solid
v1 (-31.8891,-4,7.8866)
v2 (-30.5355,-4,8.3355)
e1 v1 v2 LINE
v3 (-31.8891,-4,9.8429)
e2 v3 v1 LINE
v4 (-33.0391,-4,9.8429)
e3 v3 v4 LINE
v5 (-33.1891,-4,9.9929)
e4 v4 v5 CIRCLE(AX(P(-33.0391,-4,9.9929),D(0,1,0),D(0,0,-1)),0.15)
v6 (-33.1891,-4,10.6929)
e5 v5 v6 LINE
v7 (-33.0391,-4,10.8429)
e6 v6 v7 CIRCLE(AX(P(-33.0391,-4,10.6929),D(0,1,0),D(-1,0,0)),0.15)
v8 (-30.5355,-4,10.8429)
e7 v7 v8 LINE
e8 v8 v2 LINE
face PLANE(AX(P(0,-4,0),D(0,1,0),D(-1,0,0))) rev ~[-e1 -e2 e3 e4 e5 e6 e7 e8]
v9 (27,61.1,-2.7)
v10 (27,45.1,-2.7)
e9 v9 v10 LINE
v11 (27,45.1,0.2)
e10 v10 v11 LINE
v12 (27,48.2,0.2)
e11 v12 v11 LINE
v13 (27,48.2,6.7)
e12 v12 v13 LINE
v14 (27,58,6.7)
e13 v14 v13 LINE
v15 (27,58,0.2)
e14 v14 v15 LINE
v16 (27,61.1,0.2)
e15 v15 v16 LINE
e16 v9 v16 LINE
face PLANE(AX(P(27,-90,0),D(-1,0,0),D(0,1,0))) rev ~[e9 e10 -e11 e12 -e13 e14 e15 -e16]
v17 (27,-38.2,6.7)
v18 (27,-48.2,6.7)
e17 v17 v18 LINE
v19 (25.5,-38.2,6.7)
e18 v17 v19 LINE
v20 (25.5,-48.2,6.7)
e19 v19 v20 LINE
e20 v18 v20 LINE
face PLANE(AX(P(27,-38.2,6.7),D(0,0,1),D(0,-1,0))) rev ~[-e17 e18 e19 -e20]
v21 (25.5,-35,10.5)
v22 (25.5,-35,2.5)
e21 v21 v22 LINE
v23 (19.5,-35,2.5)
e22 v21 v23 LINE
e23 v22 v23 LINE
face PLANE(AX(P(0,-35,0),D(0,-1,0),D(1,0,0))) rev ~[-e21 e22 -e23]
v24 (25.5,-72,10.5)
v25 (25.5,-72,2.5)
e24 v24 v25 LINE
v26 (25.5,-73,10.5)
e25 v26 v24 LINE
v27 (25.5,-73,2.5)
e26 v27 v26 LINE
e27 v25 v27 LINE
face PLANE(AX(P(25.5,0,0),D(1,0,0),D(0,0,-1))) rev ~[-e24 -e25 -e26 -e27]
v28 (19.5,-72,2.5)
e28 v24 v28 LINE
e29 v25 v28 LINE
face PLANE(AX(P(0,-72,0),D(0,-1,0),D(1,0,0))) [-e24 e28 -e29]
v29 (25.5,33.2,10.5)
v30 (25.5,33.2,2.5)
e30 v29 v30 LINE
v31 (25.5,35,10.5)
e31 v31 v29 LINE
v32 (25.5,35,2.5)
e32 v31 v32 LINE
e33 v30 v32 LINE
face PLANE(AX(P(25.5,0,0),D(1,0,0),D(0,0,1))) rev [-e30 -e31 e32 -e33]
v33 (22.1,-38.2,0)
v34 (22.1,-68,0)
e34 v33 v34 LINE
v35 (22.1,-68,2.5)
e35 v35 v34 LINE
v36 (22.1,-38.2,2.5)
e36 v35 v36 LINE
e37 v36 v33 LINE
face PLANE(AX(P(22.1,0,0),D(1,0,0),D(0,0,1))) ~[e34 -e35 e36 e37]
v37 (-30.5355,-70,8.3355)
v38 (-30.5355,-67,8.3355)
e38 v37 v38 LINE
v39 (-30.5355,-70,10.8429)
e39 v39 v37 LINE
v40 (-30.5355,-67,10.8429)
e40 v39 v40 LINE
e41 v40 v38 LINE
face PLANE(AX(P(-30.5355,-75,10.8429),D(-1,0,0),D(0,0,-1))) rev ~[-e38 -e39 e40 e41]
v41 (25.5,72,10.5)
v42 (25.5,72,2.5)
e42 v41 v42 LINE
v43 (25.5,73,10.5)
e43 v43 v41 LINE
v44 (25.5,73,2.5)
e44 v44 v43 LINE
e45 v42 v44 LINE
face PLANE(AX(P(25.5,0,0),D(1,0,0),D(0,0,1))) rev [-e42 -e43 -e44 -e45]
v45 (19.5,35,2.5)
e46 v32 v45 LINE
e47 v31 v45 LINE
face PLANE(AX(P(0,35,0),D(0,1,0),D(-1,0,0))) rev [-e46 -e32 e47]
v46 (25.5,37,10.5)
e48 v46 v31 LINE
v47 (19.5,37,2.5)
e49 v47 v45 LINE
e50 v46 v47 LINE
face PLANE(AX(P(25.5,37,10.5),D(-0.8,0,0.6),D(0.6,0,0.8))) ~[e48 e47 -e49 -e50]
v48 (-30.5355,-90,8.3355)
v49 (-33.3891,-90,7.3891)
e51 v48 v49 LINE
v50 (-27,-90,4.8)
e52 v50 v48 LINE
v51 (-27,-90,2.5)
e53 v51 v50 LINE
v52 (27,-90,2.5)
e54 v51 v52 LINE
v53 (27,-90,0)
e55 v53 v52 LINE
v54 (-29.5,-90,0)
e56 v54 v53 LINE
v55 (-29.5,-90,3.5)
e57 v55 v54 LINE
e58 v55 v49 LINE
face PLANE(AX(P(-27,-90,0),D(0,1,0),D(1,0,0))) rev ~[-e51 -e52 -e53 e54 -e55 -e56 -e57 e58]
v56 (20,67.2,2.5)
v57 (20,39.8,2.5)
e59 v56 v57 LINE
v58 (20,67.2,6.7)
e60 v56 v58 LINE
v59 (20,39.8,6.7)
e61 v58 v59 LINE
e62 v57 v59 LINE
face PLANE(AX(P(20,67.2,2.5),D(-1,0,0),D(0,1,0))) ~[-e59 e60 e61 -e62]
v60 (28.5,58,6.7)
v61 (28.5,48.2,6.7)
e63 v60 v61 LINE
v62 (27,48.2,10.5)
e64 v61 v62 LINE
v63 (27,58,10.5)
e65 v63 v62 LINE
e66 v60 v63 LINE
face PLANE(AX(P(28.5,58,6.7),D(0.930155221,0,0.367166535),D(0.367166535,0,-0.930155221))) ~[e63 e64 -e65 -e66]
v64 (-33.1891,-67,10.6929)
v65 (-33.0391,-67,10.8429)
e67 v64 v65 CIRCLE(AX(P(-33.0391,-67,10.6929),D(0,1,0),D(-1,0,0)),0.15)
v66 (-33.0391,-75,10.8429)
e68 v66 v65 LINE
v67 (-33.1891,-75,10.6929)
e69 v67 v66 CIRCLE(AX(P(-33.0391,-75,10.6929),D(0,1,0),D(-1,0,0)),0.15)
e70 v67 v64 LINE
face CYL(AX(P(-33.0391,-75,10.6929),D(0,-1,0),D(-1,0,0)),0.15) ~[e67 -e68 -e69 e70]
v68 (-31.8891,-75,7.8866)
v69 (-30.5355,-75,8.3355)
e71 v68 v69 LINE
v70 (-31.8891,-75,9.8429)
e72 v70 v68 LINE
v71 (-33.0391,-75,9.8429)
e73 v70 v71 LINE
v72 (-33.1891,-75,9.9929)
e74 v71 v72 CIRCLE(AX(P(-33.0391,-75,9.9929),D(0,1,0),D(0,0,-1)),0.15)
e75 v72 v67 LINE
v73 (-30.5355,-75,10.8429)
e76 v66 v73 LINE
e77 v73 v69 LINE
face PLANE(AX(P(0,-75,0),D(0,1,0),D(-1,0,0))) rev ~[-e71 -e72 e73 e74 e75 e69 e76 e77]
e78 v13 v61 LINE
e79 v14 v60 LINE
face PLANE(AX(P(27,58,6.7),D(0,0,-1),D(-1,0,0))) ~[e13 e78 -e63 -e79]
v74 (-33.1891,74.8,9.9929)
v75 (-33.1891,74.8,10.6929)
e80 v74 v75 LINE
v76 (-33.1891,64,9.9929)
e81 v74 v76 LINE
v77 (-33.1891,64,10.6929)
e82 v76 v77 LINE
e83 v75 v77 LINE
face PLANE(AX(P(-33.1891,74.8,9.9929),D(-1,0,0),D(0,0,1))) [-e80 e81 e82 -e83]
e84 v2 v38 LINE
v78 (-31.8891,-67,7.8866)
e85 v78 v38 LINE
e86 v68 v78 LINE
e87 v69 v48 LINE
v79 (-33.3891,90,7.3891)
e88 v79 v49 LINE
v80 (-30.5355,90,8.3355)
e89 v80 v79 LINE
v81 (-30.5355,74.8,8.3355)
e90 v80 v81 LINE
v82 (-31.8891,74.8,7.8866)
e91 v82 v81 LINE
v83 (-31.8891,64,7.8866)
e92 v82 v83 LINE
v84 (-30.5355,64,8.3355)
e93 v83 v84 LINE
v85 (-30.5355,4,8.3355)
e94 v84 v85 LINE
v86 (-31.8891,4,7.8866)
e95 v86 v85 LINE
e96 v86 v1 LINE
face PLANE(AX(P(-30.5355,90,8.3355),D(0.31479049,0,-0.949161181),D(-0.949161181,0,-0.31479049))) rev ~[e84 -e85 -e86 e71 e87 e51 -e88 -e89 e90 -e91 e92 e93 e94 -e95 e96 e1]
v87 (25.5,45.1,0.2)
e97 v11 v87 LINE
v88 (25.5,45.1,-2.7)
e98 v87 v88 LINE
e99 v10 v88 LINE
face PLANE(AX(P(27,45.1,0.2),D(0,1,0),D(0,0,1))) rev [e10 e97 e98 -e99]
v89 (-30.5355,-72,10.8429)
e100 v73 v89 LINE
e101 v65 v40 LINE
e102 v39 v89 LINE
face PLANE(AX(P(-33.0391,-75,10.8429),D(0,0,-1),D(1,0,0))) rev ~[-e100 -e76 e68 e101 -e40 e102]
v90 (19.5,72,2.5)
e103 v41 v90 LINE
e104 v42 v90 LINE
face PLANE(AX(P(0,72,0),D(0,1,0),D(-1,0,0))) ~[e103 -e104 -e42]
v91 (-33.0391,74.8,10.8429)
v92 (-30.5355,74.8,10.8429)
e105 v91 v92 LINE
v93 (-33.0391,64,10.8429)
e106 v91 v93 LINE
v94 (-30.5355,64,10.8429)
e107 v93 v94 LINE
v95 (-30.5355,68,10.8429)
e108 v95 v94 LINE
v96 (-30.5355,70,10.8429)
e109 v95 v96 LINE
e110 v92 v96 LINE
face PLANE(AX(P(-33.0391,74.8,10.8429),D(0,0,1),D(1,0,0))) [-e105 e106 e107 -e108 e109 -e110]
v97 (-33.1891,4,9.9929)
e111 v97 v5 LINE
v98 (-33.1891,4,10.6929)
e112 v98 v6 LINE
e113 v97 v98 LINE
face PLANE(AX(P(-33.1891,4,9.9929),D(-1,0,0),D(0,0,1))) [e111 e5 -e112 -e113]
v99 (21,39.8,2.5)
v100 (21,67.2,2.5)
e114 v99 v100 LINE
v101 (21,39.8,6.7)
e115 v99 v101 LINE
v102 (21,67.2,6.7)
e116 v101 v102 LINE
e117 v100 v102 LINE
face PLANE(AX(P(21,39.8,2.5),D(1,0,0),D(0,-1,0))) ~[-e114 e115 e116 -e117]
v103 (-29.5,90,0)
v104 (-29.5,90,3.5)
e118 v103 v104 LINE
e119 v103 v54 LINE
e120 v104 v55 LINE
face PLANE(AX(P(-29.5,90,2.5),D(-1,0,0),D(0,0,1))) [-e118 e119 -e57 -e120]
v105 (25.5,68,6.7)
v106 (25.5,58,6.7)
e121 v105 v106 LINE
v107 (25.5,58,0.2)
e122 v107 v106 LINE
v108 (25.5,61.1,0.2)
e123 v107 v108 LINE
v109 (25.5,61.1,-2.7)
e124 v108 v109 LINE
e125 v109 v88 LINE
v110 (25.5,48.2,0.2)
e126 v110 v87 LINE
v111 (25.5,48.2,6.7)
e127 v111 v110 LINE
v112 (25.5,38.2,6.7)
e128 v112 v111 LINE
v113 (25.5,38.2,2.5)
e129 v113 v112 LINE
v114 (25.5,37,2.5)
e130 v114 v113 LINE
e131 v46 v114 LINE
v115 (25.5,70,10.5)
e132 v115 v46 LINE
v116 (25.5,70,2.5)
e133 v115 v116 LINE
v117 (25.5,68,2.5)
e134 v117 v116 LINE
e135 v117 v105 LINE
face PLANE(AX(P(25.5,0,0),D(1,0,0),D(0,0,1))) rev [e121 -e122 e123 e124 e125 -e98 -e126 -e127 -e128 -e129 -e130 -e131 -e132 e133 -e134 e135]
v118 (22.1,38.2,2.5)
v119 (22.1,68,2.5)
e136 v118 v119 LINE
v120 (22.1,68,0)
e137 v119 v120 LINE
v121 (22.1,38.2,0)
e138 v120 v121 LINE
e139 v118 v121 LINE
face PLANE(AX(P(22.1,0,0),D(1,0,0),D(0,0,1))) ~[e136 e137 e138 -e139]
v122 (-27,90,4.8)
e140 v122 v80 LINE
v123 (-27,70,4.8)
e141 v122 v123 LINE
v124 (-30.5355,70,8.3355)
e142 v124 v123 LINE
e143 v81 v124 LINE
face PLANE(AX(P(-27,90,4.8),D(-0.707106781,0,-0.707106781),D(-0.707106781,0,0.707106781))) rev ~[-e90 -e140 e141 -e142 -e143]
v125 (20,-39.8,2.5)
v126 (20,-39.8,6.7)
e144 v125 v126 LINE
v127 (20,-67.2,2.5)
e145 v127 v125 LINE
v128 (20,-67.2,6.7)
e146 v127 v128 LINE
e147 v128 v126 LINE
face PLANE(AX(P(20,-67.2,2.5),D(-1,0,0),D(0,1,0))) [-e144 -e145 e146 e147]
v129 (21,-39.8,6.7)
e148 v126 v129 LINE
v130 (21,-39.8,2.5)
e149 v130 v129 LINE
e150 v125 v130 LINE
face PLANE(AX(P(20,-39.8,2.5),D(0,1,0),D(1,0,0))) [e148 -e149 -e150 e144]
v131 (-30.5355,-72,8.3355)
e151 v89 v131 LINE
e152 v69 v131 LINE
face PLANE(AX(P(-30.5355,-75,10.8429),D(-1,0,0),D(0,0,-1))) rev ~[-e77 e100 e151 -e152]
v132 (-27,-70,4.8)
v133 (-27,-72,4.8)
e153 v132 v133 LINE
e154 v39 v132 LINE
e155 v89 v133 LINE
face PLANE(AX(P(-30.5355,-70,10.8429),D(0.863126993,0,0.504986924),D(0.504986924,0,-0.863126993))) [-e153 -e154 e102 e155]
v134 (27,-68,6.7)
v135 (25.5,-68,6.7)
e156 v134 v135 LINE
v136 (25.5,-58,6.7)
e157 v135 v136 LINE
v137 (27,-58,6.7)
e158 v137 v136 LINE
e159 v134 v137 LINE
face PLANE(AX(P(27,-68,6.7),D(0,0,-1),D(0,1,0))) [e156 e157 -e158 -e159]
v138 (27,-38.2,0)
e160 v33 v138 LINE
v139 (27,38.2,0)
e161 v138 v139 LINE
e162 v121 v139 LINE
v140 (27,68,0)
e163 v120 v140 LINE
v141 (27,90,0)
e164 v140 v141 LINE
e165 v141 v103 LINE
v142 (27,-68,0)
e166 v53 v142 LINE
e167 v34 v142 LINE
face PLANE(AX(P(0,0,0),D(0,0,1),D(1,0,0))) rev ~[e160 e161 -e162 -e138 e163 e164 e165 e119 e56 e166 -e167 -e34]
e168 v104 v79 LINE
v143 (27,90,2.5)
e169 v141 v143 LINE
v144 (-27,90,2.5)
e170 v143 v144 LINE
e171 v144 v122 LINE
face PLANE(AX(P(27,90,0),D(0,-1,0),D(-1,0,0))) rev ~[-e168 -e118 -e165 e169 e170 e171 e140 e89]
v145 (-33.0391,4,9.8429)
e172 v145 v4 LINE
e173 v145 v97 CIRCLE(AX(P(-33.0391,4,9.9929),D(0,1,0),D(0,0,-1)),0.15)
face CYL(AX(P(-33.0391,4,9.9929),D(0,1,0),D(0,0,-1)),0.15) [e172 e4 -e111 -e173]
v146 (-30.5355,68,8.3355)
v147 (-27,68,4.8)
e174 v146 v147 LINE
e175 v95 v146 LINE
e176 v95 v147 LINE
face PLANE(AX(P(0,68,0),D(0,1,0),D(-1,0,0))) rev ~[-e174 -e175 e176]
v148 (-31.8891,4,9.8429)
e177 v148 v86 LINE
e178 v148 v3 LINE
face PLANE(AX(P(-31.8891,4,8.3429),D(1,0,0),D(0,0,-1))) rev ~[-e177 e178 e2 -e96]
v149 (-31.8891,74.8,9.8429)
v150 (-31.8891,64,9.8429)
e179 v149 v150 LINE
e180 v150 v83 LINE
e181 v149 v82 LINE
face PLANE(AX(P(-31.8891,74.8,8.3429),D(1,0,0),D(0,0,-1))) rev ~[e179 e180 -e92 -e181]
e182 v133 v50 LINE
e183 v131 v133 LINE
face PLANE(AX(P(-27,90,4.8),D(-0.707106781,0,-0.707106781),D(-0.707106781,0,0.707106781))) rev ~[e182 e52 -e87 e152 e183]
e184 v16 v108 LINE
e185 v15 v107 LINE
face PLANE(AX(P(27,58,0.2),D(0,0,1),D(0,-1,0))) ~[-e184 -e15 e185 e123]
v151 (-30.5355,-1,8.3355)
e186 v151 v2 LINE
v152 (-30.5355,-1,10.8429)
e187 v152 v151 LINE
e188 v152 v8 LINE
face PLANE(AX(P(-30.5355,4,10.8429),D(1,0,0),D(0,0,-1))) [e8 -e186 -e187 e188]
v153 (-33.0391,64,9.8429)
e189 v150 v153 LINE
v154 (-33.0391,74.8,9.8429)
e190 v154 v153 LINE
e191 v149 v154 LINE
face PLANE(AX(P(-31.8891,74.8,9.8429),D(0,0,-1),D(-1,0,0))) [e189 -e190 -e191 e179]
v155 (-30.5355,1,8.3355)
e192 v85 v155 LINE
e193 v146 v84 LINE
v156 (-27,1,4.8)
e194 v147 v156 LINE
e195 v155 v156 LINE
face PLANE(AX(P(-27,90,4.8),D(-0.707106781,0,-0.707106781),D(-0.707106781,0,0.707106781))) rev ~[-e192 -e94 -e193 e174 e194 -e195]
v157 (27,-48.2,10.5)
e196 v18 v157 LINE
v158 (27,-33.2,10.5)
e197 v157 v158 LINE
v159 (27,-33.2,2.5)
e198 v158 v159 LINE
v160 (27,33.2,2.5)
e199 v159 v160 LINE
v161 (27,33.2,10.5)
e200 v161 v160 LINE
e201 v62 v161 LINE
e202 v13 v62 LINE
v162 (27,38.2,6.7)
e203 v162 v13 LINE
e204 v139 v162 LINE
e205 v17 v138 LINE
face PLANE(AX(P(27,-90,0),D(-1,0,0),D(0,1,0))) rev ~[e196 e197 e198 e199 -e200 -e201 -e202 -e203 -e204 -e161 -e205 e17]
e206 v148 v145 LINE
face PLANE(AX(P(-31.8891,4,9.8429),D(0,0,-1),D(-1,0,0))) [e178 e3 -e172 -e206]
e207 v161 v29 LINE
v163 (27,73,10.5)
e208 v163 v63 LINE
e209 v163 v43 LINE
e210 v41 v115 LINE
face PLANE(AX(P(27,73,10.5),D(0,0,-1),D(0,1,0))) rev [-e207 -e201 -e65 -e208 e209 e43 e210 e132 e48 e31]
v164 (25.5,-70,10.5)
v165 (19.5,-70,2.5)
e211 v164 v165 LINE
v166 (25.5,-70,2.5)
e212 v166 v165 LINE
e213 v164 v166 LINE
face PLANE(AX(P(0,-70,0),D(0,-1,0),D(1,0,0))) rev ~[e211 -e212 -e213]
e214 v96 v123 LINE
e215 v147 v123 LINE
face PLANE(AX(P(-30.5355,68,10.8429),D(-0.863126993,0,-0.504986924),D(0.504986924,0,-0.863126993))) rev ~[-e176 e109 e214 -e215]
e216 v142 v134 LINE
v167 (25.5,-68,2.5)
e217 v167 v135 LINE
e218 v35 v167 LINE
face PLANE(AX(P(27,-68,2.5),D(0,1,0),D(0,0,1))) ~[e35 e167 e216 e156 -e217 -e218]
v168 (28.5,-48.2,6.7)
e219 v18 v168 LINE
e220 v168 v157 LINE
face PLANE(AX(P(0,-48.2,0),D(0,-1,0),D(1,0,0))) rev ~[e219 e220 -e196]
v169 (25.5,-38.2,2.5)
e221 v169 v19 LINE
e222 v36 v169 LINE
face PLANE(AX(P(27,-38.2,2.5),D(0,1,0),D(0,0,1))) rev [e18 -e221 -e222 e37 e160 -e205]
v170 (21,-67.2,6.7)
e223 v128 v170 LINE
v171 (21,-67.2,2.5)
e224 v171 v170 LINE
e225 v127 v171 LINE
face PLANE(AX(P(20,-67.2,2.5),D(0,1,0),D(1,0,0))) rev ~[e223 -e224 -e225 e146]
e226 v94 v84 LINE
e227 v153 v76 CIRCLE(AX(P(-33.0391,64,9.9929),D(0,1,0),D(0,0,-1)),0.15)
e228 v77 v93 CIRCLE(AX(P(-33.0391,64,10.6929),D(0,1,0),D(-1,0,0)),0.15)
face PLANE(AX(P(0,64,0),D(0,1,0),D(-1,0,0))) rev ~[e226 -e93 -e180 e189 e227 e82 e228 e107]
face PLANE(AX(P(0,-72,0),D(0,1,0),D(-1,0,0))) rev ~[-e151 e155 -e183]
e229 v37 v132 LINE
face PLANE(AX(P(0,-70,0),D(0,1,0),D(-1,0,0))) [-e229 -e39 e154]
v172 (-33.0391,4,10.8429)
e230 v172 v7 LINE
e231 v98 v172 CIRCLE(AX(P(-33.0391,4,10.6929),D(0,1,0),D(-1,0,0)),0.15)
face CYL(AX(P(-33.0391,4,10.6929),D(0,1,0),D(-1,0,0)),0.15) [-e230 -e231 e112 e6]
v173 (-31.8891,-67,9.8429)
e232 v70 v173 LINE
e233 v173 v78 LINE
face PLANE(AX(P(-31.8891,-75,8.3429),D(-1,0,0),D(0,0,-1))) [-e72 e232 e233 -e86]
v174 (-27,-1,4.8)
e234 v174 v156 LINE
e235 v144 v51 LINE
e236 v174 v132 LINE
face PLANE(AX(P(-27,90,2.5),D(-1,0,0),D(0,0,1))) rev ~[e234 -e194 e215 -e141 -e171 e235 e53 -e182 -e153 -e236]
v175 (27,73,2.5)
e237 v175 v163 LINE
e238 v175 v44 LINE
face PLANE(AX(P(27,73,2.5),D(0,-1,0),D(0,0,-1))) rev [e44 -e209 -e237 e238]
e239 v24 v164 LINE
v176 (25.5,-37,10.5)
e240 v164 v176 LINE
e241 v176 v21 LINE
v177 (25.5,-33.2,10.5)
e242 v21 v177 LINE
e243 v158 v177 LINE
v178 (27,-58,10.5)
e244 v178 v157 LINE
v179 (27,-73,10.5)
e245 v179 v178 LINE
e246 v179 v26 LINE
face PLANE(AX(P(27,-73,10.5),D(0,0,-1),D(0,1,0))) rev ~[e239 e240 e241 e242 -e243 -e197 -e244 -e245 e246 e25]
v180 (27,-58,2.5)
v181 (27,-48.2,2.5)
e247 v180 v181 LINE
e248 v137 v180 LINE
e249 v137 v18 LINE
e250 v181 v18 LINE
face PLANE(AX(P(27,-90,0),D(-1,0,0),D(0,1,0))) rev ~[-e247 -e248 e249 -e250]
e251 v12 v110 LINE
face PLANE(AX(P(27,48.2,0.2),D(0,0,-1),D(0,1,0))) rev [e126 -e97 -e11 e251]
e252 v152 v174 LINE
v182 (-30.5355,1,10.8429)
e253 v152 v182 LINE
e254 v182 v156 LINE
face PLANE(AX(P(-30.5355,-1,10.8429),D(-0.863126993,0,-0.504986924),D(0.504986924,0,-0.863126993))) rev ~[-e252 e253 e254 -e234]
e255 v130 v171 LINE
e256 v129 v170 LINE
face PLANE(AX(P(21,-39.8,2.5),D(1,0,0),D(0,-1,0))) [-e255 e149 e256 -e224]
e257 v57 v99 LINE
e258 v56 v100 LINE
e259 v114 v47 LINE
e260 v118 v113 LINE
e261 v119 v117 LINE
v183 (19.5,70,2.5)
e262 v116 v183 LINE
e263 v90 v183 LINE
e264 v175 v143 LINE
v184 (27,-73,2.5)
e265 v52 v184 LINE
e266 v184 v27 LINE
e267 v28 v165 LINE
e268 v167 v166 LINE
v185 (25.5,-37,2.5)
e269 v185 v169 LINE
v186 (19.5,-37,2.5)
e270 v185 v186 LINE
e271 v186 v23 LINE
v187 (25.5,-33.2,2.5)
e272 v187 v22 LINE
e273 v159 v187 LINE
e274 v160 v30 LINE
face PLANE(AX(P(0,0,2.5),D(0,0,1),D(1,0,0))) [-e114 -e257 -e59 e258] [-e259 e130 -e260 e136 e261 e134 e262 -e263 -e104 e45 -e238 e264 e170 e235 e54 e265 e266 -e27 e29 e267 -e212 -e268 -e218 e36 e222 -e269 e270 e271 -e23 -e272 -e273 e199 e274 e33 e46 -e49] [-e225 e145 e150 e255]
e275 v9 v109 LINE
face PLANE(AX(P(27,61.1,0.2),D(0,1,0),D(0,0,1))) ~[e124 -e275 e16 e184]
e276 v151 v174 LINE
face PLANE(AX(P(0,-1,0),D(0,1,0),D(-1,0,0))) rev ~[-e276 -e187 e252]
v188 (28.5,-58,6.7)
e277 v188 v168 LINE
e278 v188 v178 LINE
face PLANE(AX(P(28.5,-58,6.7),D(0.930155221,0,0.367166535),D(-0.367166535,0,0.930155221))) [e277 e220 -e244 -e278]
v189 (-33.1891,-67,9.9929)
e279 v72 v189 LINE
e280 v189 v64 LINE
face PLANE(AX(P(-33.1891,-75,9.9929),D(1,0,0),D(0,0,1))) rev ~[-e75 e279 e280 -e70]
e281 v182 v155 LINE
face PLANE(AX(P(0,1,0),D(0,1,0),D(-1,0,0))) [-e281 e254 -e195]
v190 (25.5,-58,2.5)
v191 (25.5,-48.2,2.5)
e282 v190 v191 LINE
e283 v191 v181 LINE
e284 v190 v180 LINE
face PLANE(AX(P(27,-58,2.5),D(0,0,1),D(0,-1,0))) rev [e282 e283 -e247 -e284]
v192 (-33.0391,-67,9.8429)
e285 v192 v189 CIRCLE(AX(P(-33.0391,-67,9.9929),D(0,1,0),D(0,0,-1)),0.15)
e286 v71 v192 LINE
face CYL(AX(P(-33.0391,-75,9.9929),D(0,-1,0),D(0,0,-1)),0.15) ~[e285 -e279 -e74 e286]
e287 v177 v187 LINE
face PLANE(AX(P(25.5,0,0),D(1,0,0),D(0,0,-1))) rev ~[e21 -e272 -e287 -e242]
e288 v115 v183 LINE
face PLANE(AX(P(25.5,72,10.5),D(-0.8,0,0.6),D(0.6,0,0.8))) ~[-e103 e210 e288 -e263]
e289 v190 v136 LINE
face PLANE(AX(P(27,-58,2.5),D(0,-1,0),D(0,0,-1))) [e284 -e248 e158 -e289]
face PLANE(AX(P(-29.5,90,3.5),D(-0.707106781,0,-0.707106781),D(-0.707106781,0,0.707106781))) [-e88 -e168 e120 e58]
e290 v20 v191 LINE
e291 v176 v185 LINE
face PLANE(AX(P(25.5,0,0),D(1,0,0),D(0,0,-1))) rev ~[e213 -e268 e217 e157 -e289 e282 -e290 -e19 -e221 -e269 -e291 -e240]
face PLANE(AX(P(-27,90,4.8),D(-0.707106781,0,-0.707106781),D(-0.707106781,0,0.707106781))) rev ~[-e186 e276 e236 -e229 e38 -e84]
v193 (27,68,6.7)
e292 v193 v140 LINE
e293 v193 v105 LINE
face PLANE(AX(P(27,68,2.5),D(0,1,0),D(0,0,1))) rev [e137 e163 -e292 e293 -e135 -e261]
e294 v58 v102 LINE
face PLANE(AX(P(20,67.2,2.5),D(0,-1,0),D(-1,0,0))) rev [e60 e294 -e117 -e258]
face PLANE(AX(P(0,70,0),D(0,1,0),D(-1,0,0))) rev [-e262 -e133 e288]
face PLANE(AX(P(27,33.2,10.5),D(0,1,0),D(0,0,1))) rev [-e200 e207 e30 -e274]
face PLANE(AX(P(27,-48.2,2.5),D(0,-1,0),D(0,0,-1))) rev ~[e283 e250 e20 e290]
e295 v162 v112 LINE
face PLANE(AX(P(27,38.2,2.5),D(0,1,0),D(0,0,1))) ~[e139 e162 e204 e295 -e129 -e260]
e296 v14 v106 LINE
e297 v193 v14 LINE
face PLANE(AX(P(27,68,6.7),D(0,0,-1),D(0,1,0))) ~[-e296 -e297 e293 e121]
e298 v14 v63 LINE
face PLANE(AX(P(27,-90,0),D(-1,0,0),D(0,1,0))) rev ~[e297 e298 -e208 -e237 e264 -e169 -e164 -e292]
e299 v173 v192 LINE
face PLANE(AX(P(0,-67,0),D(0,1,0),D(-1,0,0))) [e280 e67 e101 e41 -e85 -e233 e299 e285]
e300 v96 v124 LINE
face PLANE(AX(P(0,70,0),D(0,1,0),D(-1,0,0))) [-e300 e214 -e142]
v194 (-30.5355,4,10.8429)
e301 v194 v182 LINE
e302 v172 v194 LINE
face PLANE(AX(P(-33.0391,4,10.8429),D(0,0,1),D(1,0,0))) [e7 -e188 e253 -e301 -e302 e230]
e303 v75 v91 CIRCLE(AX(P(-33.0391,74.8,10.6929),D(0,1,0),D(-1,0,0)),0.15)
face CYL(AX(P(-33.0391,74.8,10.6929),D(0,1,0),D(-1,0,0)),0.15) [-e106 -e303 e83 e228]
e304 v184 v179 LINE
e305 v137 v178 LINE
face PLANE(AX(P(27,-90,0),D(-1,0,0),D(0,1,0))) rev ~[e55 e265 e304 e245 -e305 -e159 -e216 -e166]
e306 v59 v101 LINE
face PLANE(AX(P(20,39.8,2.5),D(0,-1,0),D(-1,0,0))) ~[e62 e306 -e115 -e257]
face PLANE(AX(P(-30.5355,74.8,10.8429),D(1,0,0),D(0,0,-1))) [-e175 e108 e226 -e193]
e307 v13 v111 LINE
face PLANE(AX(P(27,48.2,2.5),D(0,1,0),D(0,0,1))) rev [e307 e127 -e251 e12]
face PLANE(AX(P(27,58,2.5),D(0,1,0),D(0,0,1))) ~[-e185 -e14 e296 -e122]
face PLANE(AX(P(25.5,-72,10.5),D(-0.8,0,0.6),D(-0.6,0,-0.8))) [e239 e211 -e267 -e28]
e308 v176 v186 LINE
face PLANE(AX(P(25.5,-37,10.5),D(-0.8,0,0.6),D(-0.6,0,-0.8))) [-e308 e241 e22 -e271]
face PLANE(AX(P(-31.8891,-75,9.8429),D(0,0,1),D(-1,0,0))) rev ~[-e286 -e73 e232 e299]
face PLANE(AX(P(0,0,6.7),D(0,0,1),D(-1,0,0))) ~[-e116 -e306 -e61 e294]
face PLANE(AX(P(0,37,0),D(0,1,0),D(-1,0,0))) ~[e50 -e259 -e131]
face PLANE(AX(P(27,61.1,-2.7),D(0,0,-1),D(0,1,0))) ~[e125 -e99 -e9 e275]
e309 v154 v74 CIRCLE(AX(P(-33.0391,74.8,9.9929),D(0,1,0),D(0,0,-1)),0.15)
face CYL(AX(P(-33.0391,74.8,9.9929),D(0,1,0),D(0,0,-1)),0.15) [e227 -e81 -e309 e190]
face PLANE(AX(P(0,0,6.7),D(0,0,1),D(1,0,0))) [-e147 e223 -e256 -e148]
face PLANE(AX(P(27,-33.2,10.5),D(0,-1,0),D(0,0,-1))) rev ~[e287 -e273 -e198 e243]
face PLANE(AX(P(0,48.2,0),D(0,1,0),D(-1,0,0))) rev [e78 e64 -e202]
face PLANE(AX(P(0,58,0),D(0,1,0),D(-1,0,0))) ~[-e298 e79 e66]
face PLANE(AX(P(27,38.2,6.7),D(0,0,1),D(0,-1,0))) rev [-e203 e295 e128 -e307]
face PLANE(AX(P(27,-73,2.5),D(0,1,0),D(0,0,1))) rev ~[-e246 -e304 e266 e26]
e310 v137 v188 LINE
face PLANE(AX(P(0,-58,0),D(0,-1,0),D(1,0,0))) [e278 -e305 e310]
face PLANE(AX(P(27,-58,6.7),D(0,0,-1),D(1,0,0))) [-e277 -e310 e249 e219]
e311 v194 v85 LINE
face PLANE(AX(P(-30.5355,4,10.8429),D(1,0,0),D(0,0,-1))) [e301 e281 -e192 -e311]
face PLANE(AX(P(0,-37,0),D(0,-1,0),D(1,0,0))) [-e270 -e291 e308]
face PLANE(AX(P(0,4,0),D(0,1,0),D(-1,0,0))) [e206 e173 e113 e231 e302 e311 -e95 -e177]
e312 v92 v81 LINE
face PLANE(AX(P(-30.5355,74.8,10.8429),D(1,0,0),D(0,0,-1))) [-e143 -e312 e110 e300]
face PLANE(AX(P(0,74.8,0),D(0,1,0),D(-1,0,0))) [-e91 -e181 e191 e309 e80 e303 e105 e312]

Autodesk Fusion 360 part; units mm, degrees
sketch "Sketch1" plane through (0, 0, 0) normal (0, 0, 1) x (1, 0, 0)
  line L0 (27, 90) -> (-27, 90)
  line L1 (-27, 90) -> (-27, -90)
  line L2 (-27, -90) -> (27, -90)
  line L3 (27, -90) -> (27, 90)
  dimension "d1" = 54
  dimension "d2" = 180
extrude "Extrude1" add sketch "Sketch1" along normal blind 2.5
sketch "Sketch2" plane through (0, 90, 0) normal (0, 1, 0) x (-1, 0, 0)
  line L0 (-27, 0) -> (27, 0)
  line L1 (27, 0) -> (27, 2.5)
  line L2 (27, 2.5) -> (-27, 2.5)
  line L3 (-27, 2.5) -> (-27, 0)
  line L4 (27, 0) -> (29.5, 0)
  line L5 (29.5, 0) -> (29.5, 2.5)
  line L6 (27, 2.5) -> (27, 4.8)
  line L7 (29.5, 0) -> (29.5, 3.5)
  line L8 (29.5, 3.5) -> (33.3891, 7.3891)
  line L9 (27, 4.8) -> (30.5355, 8.3355)
  line L10 (27, 4.8) -> (32.5, 4.8) construction
  line L11 (30.5355, 8.3355) -> (33.3891, 7.3891)
  dimension "d5" = 2.5
  dimension "d6" = 2.5
  dimension "d7" = 2.3
  dimension "d8" = 135
  dimension "d9" = 5.5
  dimension "d10" = 45
  dimension "d11" = 5
extrude "Extrude2" add sketch "Sketch2" against normal blind 180 contours L1 L4 L5 L6 L7 L8 L9 L11
sketch "Sketch3" plane through (0, 90, 0) normal (0, 1, 0) x (-1, 0, 0)
  line L0 (-27, 0) -> (29.5, 0)
  line L1 (29.5, 0) -> (29.5, 3.5)
  line L2 (29.5, 3.5) -> (33.3891, 7.3891)
  line L3 (33.3891, 7.3891) -> (30.5355, 8.3355)
  line L4 (30.5355, 8.3355) -> (27, 4.8)
  line L5 (27, 4.8) -> (27, 2.5)
  line L6 (27, 2.5) -> (-27, 2.5)
  line L7 (-27, 2.5) -> (-27, 0)
  line L8 (31.8891, 8.3429) -> (31.8891, 7.8866)
  line L9 (31.8891, 8.3429) -> (31.8891, 9.8429)
  line L10 (31.8891, 9.8429) -> (33.0391, 9.8429)
  line L11 (33.1891, 9.9929) -> (33.1891, 10.6929)
  line L12 (33.0391, 10.8429) -> (30.5355, 10.8429)
  line L13 (30.5355, 10.8429) -> (30.5355, 8.3355)
  arc A0 (33.1891, 10.6929) -> (33.0391, 10.8429) centre (33.0391, 10.6929) ccw
  arc A1 (33.0391, 9.8429) -> (33.1891, 9.9929) centre (33.0391, 9.9929) ccw
  line L14 (30.5355, 10.8429) -> (27, 4.8)
  point P0 (33.1891, 9.8429)
  point P1 (33.1891, 10.8429)
  dimension "d15" = 1.5
  dimension "d16" = 1.3
  dimension "d17" = 1
  dimension "d19" = 0.15
  dimension "d24" = 1.5
extrude "Extrude3" add sketch "Sketch3" along normal blind -26 and the other way blind 15.2 contours L3 L8 L9 L10 L11 L12 L13 A0 A1
extrude "Extrude4" add sketch "Sketch3" along normal blind -20 and the other way blind 22 contours L4 L13 L14
extrude "Extrude5" add sketch "Sketch3" along normal blind -94 and the other way blind 86 contours L3 L8 L9 L10 L11 L12 L13 A0 A1
extrude "Extrude6" add sketch "Sketch3" along normal blind -157 and the other way blind 165 contours L3 L8 L9 L10 L11 L12 L13 A0 A1
extrude "Extrude7" add sketch "Sketch3" along normal blind -162 and the other way blind 160 contours L4 L13 L14
extrude "Extrude8" add sketch "Sketch3" along normal blind -89 and the other way blind 91 contours L4 L13 L14
sketch "Sketch4" plane through (27, 0, 0) normal (1, 0, 0) x (0, 0, -1)
  line L0 (0, -90) -> (0, 90)
  line L1 (0, 90) -> (-2.5, 90)
  line L2 (-2.5, 90) -> (-2.5, -90)
  line L3 (-2.5, -90) -> (0, -90)
  line L4 (-2.5, -90) -> (-2.5, -73)
  line L5 (-2.5, -73) -> (-10.5, -73)
  line L6 (-10.5, -73) -> (-10.5, -33.2)
  line L7 (-2.5, -73) -> (-2.5, -68)
  line L8 (-2.5, -68) -> (-6.7, -68)
  line L9 (-10.5, -33.2) -> (-2.5, -33.2)
  line L10 (-6.7, -68) -> (-6.7, -58)
  line L11 (-6.7, -58) -> (-0.2, -58)
  line L12 (-0.2, -58) -> (-0.2, -61.1)
  line L13 (-0.2, -61.1) -> (2.7, -61.1)
  line L14 (2.7, -61.1) -> (2.7, -45.1)
  line L15 (-0.2, -48.2) -> (-0.2, -45.1)
  line L16 (-0.2, -45.1) -> (2.7, -45.1)
  line L17 (-6.7, -48.2) -> (-0.2, -48.2)
  line L18 (-6.7, -38.2) -> (-6.7, -48.2)
  line L19 (-2.5, -33.2) -> (-2.5, -38.2)
  line L20 (-2.5, -38.2) -> (-6.7, -38.2)
  line L21 (2.7, -61.1) -> (2.7, -69)
  line L22 (-2.5, -68) -> (2.7, -68)
  line L23 (-2.5, -38.2) -> (3, -38.2)
  line L24 (2.7, -45.1) -> (2.7, -38.2)
  line L25 (-1.75, 0) -> (-22.5, 0)
  line L26 (-0.2, 48.2) -> (-0.2, 45.1)
  line L27 (-0.2, 61.1) -> (2.7, 61.1)
  line L28 (-10.5, 73) -> (-10.5, 33.2)
  line L29 (-0.2, 58) -> (-0.2, 61.1)
  line L30 (-2.5, 38.2) -> (3, 38.2)
  line L31 (2.7, 61.1) -> (2.7, 69)
  line L32 (-6.7, 68) -> (-6.7, 58)
  line L33 (2.7, 61.1) -> (2.7, 45.1)
  line L34 (-6.7, 38.2) -> (-6.7, 48.2)
  line L35 (2.7, 45.1) -> (2.7, 38.2)
  line L36 (-10.5, 33.2) -> (-2.5, 33.2)
  line L37 (-2.5, 68) -> (-6.7, 68)
  line L38 (-2.5, 73) -> (-2.5, 68)
  line L39 (-6.7, 48.2) -> (-0.2, 48.2)
  line L40 (-0.2, 45.1) -> (2.7, 45.1)
  line L41 (-2.5, 68) -> (2.7, 68)
  line L42 (-2.5, 38.2) -> (-6.7, 38.2)
  line L43 (-2.5, 33.2) -> (-2.5, 38.2)
  line L44 (-2.5, 73) -> (-10.5, 73)
  line L45 (-6.7, 58) -> (-0.2, 58)
  dimension "d45" = 17
  dimension "d46" = 8
  dimension "d47" = 39.8
  dimension "d48" = 4.2
  dimension "d50" = 6.5
  dimension "d51" = 3.1
  dimension "d52" = 2.9
extrude "Extrude9" cut sketch "Sketch4" against normal blind 4.9 contours L0 L2 L11 L12 L13 L22 | L0 L13 L21 L22 | L0 L2 L11 L12 L13 L15 L16 L17 | L0 L13 L14 L16 | L2 L8 L10 L11 | L0 L2 L15 L16 L17 L23 | L0 L16 L23 L24 | L2 L17 L18 L20 | L0 L2 L26 L30 L39 L40 | L0 L30 L35 L40 | L0 L2 L26 L27 L29 L39 L40 L45 | L0 L27 L33 L40 | L2 L34 L39 L42 | L0 L2 L27 L29 L41 L45 | L0 L27 L31 L41 | L2 L32 L37 L45
extrude "Extrude10" add sketch "Sketch4" against normal blind 1.5 contours L0 L2 L11 L12 L13 L15 L16 L17 | L0 L13 L14 L16 | L2 L5 L6 L7 L8 L9 L10 L11 L17 L18 L19 L20
sketch "Sketch5" plane through (0, -73, 0) normal (0, -1, 0) x (1, 0, 0)
  line L0 (27, 2.5) -> (27, 10.5)
  line L1 (27, 10.5) -> (25.5, 10.5)
  line L2 (25.5, 10.5) -> (25.5, 2.5)
  line L3 (25.5, 2.5) -> (27, 2.5)
  line L4 (27, 10.5) -> (27, 6.7)
  line L5 (27, 6.7) -> (28.5, 6.7)
  line L6 (28.5, 6.7) -> (27, 10.5)
extrude "Extrude11" add sketch "Sketch5" along normal blind -24.8 and the other way blind 15 contours L0 L4 L5 L6
sketch "Sketch6" plane through (0, -73, 0) normal (0, -1, 0) x (1, 0, 0)
  line L0 (27, 2.5) -> (27, 10.5)
  line L1 (27, 10.5) -> (25.5, 10.5)
  line L2 (25.5, 10.5) -> (25.5, 2.5)
  line L3 (25.5, 2.5) -> (27, 2.5)
  line L4 (27, 2.5) -> (14.9732, 2.5)
  line L5 (25.5, 10.5) -> (19.5, 2.5)
  point P0 (25.5, 2.5)
  dimension "d62" = 6
extrude "Extrude12" add sketch "Sketch6" along normal blind -3 and the other way blind 1 contours L2 L4 L5
extrude "Extrude13" add sketch "Sketch6" along normal blind -38 and the other way blind 36 contours L2 L4 L5
sketch "Sketch7" plane through (0, 0, 2.5) normal (0, 0, 1) x (1, 0, 0)
  line L0 (19.5, -35) -> (25.5, -35)
  line L1 (25.5, -35) -> (25.5, -33.2)
  line L2 (25.5, -33.2) -> (27, -33.2)
  line L3 (27, -33.2) -> (27, 38.2)
  line L4 (27, 90) -> (-27, 90)
  line L5 (-27, 90) -> (-27, -90)
  line L6 (-27, -90) -> (27, -90)
  line L7 (27, -90) -> (27, -73)
  line L8 (27, -73) -> (25.5, -73)
  line L9 (25.5, -73) -> (25.5, -72)
  line L10 (25.5, -72) -> (19.5, -72)
  line L11 (19.5, -72) -> (19.5, -70)
  line L12 (19.5, -70) -> (25.5, -70)
  line L13 (25.5, -70) -> (25.5, -68)
  line L14 (25.5, -68) -> (22.1, -68)
  line L15 (22.1, 38.2) -> (22.1, 68)
  line L16 (22.1, -38.2) -> (25.5, -38.2)
  line L17 (25.5, -38.2) -> (25.5, -37)
  line L18 (25.5, -37) -> (19.5, -37)
  line L19 (19.5, -37) -> (19.5, -35)
  line L20 (20, -37) -> (20, -39.8)
  line L21 (20, -70) -> (20, -67.2)
  line L22 (20, -39.8) -> (21, -39.8)
  line L23 (21, -39.8) -> (21, -67.4697)
  line L24 (20, -67.2) -> (21, -67.2)
  line L25 (20, -67.2) -> (20, -39.8)
  line L26 (27, 38.2) -> (22.1, 38.2)
  line L27 (22.1, 68) -> (27, 68)
  line L28 (27, 68) -> (27, 90)
  line L29 (22.1, -68) -> (22.1, -38.2)
  dimension "d71" = 2.8
  dimension "d72" = 2.8
extrude "Extrude14" add sketch "Sketch7" along normal blind 4.2 contours L22 L23 L24 L25
mirror "Mirror1" about plane through (0, 0, 0) normal (0, 1, 0) of "Extrude1", "Extrude9", "Extrude10", "Extrude11", "Extrude12", "Extrude13", "Extrude14"
